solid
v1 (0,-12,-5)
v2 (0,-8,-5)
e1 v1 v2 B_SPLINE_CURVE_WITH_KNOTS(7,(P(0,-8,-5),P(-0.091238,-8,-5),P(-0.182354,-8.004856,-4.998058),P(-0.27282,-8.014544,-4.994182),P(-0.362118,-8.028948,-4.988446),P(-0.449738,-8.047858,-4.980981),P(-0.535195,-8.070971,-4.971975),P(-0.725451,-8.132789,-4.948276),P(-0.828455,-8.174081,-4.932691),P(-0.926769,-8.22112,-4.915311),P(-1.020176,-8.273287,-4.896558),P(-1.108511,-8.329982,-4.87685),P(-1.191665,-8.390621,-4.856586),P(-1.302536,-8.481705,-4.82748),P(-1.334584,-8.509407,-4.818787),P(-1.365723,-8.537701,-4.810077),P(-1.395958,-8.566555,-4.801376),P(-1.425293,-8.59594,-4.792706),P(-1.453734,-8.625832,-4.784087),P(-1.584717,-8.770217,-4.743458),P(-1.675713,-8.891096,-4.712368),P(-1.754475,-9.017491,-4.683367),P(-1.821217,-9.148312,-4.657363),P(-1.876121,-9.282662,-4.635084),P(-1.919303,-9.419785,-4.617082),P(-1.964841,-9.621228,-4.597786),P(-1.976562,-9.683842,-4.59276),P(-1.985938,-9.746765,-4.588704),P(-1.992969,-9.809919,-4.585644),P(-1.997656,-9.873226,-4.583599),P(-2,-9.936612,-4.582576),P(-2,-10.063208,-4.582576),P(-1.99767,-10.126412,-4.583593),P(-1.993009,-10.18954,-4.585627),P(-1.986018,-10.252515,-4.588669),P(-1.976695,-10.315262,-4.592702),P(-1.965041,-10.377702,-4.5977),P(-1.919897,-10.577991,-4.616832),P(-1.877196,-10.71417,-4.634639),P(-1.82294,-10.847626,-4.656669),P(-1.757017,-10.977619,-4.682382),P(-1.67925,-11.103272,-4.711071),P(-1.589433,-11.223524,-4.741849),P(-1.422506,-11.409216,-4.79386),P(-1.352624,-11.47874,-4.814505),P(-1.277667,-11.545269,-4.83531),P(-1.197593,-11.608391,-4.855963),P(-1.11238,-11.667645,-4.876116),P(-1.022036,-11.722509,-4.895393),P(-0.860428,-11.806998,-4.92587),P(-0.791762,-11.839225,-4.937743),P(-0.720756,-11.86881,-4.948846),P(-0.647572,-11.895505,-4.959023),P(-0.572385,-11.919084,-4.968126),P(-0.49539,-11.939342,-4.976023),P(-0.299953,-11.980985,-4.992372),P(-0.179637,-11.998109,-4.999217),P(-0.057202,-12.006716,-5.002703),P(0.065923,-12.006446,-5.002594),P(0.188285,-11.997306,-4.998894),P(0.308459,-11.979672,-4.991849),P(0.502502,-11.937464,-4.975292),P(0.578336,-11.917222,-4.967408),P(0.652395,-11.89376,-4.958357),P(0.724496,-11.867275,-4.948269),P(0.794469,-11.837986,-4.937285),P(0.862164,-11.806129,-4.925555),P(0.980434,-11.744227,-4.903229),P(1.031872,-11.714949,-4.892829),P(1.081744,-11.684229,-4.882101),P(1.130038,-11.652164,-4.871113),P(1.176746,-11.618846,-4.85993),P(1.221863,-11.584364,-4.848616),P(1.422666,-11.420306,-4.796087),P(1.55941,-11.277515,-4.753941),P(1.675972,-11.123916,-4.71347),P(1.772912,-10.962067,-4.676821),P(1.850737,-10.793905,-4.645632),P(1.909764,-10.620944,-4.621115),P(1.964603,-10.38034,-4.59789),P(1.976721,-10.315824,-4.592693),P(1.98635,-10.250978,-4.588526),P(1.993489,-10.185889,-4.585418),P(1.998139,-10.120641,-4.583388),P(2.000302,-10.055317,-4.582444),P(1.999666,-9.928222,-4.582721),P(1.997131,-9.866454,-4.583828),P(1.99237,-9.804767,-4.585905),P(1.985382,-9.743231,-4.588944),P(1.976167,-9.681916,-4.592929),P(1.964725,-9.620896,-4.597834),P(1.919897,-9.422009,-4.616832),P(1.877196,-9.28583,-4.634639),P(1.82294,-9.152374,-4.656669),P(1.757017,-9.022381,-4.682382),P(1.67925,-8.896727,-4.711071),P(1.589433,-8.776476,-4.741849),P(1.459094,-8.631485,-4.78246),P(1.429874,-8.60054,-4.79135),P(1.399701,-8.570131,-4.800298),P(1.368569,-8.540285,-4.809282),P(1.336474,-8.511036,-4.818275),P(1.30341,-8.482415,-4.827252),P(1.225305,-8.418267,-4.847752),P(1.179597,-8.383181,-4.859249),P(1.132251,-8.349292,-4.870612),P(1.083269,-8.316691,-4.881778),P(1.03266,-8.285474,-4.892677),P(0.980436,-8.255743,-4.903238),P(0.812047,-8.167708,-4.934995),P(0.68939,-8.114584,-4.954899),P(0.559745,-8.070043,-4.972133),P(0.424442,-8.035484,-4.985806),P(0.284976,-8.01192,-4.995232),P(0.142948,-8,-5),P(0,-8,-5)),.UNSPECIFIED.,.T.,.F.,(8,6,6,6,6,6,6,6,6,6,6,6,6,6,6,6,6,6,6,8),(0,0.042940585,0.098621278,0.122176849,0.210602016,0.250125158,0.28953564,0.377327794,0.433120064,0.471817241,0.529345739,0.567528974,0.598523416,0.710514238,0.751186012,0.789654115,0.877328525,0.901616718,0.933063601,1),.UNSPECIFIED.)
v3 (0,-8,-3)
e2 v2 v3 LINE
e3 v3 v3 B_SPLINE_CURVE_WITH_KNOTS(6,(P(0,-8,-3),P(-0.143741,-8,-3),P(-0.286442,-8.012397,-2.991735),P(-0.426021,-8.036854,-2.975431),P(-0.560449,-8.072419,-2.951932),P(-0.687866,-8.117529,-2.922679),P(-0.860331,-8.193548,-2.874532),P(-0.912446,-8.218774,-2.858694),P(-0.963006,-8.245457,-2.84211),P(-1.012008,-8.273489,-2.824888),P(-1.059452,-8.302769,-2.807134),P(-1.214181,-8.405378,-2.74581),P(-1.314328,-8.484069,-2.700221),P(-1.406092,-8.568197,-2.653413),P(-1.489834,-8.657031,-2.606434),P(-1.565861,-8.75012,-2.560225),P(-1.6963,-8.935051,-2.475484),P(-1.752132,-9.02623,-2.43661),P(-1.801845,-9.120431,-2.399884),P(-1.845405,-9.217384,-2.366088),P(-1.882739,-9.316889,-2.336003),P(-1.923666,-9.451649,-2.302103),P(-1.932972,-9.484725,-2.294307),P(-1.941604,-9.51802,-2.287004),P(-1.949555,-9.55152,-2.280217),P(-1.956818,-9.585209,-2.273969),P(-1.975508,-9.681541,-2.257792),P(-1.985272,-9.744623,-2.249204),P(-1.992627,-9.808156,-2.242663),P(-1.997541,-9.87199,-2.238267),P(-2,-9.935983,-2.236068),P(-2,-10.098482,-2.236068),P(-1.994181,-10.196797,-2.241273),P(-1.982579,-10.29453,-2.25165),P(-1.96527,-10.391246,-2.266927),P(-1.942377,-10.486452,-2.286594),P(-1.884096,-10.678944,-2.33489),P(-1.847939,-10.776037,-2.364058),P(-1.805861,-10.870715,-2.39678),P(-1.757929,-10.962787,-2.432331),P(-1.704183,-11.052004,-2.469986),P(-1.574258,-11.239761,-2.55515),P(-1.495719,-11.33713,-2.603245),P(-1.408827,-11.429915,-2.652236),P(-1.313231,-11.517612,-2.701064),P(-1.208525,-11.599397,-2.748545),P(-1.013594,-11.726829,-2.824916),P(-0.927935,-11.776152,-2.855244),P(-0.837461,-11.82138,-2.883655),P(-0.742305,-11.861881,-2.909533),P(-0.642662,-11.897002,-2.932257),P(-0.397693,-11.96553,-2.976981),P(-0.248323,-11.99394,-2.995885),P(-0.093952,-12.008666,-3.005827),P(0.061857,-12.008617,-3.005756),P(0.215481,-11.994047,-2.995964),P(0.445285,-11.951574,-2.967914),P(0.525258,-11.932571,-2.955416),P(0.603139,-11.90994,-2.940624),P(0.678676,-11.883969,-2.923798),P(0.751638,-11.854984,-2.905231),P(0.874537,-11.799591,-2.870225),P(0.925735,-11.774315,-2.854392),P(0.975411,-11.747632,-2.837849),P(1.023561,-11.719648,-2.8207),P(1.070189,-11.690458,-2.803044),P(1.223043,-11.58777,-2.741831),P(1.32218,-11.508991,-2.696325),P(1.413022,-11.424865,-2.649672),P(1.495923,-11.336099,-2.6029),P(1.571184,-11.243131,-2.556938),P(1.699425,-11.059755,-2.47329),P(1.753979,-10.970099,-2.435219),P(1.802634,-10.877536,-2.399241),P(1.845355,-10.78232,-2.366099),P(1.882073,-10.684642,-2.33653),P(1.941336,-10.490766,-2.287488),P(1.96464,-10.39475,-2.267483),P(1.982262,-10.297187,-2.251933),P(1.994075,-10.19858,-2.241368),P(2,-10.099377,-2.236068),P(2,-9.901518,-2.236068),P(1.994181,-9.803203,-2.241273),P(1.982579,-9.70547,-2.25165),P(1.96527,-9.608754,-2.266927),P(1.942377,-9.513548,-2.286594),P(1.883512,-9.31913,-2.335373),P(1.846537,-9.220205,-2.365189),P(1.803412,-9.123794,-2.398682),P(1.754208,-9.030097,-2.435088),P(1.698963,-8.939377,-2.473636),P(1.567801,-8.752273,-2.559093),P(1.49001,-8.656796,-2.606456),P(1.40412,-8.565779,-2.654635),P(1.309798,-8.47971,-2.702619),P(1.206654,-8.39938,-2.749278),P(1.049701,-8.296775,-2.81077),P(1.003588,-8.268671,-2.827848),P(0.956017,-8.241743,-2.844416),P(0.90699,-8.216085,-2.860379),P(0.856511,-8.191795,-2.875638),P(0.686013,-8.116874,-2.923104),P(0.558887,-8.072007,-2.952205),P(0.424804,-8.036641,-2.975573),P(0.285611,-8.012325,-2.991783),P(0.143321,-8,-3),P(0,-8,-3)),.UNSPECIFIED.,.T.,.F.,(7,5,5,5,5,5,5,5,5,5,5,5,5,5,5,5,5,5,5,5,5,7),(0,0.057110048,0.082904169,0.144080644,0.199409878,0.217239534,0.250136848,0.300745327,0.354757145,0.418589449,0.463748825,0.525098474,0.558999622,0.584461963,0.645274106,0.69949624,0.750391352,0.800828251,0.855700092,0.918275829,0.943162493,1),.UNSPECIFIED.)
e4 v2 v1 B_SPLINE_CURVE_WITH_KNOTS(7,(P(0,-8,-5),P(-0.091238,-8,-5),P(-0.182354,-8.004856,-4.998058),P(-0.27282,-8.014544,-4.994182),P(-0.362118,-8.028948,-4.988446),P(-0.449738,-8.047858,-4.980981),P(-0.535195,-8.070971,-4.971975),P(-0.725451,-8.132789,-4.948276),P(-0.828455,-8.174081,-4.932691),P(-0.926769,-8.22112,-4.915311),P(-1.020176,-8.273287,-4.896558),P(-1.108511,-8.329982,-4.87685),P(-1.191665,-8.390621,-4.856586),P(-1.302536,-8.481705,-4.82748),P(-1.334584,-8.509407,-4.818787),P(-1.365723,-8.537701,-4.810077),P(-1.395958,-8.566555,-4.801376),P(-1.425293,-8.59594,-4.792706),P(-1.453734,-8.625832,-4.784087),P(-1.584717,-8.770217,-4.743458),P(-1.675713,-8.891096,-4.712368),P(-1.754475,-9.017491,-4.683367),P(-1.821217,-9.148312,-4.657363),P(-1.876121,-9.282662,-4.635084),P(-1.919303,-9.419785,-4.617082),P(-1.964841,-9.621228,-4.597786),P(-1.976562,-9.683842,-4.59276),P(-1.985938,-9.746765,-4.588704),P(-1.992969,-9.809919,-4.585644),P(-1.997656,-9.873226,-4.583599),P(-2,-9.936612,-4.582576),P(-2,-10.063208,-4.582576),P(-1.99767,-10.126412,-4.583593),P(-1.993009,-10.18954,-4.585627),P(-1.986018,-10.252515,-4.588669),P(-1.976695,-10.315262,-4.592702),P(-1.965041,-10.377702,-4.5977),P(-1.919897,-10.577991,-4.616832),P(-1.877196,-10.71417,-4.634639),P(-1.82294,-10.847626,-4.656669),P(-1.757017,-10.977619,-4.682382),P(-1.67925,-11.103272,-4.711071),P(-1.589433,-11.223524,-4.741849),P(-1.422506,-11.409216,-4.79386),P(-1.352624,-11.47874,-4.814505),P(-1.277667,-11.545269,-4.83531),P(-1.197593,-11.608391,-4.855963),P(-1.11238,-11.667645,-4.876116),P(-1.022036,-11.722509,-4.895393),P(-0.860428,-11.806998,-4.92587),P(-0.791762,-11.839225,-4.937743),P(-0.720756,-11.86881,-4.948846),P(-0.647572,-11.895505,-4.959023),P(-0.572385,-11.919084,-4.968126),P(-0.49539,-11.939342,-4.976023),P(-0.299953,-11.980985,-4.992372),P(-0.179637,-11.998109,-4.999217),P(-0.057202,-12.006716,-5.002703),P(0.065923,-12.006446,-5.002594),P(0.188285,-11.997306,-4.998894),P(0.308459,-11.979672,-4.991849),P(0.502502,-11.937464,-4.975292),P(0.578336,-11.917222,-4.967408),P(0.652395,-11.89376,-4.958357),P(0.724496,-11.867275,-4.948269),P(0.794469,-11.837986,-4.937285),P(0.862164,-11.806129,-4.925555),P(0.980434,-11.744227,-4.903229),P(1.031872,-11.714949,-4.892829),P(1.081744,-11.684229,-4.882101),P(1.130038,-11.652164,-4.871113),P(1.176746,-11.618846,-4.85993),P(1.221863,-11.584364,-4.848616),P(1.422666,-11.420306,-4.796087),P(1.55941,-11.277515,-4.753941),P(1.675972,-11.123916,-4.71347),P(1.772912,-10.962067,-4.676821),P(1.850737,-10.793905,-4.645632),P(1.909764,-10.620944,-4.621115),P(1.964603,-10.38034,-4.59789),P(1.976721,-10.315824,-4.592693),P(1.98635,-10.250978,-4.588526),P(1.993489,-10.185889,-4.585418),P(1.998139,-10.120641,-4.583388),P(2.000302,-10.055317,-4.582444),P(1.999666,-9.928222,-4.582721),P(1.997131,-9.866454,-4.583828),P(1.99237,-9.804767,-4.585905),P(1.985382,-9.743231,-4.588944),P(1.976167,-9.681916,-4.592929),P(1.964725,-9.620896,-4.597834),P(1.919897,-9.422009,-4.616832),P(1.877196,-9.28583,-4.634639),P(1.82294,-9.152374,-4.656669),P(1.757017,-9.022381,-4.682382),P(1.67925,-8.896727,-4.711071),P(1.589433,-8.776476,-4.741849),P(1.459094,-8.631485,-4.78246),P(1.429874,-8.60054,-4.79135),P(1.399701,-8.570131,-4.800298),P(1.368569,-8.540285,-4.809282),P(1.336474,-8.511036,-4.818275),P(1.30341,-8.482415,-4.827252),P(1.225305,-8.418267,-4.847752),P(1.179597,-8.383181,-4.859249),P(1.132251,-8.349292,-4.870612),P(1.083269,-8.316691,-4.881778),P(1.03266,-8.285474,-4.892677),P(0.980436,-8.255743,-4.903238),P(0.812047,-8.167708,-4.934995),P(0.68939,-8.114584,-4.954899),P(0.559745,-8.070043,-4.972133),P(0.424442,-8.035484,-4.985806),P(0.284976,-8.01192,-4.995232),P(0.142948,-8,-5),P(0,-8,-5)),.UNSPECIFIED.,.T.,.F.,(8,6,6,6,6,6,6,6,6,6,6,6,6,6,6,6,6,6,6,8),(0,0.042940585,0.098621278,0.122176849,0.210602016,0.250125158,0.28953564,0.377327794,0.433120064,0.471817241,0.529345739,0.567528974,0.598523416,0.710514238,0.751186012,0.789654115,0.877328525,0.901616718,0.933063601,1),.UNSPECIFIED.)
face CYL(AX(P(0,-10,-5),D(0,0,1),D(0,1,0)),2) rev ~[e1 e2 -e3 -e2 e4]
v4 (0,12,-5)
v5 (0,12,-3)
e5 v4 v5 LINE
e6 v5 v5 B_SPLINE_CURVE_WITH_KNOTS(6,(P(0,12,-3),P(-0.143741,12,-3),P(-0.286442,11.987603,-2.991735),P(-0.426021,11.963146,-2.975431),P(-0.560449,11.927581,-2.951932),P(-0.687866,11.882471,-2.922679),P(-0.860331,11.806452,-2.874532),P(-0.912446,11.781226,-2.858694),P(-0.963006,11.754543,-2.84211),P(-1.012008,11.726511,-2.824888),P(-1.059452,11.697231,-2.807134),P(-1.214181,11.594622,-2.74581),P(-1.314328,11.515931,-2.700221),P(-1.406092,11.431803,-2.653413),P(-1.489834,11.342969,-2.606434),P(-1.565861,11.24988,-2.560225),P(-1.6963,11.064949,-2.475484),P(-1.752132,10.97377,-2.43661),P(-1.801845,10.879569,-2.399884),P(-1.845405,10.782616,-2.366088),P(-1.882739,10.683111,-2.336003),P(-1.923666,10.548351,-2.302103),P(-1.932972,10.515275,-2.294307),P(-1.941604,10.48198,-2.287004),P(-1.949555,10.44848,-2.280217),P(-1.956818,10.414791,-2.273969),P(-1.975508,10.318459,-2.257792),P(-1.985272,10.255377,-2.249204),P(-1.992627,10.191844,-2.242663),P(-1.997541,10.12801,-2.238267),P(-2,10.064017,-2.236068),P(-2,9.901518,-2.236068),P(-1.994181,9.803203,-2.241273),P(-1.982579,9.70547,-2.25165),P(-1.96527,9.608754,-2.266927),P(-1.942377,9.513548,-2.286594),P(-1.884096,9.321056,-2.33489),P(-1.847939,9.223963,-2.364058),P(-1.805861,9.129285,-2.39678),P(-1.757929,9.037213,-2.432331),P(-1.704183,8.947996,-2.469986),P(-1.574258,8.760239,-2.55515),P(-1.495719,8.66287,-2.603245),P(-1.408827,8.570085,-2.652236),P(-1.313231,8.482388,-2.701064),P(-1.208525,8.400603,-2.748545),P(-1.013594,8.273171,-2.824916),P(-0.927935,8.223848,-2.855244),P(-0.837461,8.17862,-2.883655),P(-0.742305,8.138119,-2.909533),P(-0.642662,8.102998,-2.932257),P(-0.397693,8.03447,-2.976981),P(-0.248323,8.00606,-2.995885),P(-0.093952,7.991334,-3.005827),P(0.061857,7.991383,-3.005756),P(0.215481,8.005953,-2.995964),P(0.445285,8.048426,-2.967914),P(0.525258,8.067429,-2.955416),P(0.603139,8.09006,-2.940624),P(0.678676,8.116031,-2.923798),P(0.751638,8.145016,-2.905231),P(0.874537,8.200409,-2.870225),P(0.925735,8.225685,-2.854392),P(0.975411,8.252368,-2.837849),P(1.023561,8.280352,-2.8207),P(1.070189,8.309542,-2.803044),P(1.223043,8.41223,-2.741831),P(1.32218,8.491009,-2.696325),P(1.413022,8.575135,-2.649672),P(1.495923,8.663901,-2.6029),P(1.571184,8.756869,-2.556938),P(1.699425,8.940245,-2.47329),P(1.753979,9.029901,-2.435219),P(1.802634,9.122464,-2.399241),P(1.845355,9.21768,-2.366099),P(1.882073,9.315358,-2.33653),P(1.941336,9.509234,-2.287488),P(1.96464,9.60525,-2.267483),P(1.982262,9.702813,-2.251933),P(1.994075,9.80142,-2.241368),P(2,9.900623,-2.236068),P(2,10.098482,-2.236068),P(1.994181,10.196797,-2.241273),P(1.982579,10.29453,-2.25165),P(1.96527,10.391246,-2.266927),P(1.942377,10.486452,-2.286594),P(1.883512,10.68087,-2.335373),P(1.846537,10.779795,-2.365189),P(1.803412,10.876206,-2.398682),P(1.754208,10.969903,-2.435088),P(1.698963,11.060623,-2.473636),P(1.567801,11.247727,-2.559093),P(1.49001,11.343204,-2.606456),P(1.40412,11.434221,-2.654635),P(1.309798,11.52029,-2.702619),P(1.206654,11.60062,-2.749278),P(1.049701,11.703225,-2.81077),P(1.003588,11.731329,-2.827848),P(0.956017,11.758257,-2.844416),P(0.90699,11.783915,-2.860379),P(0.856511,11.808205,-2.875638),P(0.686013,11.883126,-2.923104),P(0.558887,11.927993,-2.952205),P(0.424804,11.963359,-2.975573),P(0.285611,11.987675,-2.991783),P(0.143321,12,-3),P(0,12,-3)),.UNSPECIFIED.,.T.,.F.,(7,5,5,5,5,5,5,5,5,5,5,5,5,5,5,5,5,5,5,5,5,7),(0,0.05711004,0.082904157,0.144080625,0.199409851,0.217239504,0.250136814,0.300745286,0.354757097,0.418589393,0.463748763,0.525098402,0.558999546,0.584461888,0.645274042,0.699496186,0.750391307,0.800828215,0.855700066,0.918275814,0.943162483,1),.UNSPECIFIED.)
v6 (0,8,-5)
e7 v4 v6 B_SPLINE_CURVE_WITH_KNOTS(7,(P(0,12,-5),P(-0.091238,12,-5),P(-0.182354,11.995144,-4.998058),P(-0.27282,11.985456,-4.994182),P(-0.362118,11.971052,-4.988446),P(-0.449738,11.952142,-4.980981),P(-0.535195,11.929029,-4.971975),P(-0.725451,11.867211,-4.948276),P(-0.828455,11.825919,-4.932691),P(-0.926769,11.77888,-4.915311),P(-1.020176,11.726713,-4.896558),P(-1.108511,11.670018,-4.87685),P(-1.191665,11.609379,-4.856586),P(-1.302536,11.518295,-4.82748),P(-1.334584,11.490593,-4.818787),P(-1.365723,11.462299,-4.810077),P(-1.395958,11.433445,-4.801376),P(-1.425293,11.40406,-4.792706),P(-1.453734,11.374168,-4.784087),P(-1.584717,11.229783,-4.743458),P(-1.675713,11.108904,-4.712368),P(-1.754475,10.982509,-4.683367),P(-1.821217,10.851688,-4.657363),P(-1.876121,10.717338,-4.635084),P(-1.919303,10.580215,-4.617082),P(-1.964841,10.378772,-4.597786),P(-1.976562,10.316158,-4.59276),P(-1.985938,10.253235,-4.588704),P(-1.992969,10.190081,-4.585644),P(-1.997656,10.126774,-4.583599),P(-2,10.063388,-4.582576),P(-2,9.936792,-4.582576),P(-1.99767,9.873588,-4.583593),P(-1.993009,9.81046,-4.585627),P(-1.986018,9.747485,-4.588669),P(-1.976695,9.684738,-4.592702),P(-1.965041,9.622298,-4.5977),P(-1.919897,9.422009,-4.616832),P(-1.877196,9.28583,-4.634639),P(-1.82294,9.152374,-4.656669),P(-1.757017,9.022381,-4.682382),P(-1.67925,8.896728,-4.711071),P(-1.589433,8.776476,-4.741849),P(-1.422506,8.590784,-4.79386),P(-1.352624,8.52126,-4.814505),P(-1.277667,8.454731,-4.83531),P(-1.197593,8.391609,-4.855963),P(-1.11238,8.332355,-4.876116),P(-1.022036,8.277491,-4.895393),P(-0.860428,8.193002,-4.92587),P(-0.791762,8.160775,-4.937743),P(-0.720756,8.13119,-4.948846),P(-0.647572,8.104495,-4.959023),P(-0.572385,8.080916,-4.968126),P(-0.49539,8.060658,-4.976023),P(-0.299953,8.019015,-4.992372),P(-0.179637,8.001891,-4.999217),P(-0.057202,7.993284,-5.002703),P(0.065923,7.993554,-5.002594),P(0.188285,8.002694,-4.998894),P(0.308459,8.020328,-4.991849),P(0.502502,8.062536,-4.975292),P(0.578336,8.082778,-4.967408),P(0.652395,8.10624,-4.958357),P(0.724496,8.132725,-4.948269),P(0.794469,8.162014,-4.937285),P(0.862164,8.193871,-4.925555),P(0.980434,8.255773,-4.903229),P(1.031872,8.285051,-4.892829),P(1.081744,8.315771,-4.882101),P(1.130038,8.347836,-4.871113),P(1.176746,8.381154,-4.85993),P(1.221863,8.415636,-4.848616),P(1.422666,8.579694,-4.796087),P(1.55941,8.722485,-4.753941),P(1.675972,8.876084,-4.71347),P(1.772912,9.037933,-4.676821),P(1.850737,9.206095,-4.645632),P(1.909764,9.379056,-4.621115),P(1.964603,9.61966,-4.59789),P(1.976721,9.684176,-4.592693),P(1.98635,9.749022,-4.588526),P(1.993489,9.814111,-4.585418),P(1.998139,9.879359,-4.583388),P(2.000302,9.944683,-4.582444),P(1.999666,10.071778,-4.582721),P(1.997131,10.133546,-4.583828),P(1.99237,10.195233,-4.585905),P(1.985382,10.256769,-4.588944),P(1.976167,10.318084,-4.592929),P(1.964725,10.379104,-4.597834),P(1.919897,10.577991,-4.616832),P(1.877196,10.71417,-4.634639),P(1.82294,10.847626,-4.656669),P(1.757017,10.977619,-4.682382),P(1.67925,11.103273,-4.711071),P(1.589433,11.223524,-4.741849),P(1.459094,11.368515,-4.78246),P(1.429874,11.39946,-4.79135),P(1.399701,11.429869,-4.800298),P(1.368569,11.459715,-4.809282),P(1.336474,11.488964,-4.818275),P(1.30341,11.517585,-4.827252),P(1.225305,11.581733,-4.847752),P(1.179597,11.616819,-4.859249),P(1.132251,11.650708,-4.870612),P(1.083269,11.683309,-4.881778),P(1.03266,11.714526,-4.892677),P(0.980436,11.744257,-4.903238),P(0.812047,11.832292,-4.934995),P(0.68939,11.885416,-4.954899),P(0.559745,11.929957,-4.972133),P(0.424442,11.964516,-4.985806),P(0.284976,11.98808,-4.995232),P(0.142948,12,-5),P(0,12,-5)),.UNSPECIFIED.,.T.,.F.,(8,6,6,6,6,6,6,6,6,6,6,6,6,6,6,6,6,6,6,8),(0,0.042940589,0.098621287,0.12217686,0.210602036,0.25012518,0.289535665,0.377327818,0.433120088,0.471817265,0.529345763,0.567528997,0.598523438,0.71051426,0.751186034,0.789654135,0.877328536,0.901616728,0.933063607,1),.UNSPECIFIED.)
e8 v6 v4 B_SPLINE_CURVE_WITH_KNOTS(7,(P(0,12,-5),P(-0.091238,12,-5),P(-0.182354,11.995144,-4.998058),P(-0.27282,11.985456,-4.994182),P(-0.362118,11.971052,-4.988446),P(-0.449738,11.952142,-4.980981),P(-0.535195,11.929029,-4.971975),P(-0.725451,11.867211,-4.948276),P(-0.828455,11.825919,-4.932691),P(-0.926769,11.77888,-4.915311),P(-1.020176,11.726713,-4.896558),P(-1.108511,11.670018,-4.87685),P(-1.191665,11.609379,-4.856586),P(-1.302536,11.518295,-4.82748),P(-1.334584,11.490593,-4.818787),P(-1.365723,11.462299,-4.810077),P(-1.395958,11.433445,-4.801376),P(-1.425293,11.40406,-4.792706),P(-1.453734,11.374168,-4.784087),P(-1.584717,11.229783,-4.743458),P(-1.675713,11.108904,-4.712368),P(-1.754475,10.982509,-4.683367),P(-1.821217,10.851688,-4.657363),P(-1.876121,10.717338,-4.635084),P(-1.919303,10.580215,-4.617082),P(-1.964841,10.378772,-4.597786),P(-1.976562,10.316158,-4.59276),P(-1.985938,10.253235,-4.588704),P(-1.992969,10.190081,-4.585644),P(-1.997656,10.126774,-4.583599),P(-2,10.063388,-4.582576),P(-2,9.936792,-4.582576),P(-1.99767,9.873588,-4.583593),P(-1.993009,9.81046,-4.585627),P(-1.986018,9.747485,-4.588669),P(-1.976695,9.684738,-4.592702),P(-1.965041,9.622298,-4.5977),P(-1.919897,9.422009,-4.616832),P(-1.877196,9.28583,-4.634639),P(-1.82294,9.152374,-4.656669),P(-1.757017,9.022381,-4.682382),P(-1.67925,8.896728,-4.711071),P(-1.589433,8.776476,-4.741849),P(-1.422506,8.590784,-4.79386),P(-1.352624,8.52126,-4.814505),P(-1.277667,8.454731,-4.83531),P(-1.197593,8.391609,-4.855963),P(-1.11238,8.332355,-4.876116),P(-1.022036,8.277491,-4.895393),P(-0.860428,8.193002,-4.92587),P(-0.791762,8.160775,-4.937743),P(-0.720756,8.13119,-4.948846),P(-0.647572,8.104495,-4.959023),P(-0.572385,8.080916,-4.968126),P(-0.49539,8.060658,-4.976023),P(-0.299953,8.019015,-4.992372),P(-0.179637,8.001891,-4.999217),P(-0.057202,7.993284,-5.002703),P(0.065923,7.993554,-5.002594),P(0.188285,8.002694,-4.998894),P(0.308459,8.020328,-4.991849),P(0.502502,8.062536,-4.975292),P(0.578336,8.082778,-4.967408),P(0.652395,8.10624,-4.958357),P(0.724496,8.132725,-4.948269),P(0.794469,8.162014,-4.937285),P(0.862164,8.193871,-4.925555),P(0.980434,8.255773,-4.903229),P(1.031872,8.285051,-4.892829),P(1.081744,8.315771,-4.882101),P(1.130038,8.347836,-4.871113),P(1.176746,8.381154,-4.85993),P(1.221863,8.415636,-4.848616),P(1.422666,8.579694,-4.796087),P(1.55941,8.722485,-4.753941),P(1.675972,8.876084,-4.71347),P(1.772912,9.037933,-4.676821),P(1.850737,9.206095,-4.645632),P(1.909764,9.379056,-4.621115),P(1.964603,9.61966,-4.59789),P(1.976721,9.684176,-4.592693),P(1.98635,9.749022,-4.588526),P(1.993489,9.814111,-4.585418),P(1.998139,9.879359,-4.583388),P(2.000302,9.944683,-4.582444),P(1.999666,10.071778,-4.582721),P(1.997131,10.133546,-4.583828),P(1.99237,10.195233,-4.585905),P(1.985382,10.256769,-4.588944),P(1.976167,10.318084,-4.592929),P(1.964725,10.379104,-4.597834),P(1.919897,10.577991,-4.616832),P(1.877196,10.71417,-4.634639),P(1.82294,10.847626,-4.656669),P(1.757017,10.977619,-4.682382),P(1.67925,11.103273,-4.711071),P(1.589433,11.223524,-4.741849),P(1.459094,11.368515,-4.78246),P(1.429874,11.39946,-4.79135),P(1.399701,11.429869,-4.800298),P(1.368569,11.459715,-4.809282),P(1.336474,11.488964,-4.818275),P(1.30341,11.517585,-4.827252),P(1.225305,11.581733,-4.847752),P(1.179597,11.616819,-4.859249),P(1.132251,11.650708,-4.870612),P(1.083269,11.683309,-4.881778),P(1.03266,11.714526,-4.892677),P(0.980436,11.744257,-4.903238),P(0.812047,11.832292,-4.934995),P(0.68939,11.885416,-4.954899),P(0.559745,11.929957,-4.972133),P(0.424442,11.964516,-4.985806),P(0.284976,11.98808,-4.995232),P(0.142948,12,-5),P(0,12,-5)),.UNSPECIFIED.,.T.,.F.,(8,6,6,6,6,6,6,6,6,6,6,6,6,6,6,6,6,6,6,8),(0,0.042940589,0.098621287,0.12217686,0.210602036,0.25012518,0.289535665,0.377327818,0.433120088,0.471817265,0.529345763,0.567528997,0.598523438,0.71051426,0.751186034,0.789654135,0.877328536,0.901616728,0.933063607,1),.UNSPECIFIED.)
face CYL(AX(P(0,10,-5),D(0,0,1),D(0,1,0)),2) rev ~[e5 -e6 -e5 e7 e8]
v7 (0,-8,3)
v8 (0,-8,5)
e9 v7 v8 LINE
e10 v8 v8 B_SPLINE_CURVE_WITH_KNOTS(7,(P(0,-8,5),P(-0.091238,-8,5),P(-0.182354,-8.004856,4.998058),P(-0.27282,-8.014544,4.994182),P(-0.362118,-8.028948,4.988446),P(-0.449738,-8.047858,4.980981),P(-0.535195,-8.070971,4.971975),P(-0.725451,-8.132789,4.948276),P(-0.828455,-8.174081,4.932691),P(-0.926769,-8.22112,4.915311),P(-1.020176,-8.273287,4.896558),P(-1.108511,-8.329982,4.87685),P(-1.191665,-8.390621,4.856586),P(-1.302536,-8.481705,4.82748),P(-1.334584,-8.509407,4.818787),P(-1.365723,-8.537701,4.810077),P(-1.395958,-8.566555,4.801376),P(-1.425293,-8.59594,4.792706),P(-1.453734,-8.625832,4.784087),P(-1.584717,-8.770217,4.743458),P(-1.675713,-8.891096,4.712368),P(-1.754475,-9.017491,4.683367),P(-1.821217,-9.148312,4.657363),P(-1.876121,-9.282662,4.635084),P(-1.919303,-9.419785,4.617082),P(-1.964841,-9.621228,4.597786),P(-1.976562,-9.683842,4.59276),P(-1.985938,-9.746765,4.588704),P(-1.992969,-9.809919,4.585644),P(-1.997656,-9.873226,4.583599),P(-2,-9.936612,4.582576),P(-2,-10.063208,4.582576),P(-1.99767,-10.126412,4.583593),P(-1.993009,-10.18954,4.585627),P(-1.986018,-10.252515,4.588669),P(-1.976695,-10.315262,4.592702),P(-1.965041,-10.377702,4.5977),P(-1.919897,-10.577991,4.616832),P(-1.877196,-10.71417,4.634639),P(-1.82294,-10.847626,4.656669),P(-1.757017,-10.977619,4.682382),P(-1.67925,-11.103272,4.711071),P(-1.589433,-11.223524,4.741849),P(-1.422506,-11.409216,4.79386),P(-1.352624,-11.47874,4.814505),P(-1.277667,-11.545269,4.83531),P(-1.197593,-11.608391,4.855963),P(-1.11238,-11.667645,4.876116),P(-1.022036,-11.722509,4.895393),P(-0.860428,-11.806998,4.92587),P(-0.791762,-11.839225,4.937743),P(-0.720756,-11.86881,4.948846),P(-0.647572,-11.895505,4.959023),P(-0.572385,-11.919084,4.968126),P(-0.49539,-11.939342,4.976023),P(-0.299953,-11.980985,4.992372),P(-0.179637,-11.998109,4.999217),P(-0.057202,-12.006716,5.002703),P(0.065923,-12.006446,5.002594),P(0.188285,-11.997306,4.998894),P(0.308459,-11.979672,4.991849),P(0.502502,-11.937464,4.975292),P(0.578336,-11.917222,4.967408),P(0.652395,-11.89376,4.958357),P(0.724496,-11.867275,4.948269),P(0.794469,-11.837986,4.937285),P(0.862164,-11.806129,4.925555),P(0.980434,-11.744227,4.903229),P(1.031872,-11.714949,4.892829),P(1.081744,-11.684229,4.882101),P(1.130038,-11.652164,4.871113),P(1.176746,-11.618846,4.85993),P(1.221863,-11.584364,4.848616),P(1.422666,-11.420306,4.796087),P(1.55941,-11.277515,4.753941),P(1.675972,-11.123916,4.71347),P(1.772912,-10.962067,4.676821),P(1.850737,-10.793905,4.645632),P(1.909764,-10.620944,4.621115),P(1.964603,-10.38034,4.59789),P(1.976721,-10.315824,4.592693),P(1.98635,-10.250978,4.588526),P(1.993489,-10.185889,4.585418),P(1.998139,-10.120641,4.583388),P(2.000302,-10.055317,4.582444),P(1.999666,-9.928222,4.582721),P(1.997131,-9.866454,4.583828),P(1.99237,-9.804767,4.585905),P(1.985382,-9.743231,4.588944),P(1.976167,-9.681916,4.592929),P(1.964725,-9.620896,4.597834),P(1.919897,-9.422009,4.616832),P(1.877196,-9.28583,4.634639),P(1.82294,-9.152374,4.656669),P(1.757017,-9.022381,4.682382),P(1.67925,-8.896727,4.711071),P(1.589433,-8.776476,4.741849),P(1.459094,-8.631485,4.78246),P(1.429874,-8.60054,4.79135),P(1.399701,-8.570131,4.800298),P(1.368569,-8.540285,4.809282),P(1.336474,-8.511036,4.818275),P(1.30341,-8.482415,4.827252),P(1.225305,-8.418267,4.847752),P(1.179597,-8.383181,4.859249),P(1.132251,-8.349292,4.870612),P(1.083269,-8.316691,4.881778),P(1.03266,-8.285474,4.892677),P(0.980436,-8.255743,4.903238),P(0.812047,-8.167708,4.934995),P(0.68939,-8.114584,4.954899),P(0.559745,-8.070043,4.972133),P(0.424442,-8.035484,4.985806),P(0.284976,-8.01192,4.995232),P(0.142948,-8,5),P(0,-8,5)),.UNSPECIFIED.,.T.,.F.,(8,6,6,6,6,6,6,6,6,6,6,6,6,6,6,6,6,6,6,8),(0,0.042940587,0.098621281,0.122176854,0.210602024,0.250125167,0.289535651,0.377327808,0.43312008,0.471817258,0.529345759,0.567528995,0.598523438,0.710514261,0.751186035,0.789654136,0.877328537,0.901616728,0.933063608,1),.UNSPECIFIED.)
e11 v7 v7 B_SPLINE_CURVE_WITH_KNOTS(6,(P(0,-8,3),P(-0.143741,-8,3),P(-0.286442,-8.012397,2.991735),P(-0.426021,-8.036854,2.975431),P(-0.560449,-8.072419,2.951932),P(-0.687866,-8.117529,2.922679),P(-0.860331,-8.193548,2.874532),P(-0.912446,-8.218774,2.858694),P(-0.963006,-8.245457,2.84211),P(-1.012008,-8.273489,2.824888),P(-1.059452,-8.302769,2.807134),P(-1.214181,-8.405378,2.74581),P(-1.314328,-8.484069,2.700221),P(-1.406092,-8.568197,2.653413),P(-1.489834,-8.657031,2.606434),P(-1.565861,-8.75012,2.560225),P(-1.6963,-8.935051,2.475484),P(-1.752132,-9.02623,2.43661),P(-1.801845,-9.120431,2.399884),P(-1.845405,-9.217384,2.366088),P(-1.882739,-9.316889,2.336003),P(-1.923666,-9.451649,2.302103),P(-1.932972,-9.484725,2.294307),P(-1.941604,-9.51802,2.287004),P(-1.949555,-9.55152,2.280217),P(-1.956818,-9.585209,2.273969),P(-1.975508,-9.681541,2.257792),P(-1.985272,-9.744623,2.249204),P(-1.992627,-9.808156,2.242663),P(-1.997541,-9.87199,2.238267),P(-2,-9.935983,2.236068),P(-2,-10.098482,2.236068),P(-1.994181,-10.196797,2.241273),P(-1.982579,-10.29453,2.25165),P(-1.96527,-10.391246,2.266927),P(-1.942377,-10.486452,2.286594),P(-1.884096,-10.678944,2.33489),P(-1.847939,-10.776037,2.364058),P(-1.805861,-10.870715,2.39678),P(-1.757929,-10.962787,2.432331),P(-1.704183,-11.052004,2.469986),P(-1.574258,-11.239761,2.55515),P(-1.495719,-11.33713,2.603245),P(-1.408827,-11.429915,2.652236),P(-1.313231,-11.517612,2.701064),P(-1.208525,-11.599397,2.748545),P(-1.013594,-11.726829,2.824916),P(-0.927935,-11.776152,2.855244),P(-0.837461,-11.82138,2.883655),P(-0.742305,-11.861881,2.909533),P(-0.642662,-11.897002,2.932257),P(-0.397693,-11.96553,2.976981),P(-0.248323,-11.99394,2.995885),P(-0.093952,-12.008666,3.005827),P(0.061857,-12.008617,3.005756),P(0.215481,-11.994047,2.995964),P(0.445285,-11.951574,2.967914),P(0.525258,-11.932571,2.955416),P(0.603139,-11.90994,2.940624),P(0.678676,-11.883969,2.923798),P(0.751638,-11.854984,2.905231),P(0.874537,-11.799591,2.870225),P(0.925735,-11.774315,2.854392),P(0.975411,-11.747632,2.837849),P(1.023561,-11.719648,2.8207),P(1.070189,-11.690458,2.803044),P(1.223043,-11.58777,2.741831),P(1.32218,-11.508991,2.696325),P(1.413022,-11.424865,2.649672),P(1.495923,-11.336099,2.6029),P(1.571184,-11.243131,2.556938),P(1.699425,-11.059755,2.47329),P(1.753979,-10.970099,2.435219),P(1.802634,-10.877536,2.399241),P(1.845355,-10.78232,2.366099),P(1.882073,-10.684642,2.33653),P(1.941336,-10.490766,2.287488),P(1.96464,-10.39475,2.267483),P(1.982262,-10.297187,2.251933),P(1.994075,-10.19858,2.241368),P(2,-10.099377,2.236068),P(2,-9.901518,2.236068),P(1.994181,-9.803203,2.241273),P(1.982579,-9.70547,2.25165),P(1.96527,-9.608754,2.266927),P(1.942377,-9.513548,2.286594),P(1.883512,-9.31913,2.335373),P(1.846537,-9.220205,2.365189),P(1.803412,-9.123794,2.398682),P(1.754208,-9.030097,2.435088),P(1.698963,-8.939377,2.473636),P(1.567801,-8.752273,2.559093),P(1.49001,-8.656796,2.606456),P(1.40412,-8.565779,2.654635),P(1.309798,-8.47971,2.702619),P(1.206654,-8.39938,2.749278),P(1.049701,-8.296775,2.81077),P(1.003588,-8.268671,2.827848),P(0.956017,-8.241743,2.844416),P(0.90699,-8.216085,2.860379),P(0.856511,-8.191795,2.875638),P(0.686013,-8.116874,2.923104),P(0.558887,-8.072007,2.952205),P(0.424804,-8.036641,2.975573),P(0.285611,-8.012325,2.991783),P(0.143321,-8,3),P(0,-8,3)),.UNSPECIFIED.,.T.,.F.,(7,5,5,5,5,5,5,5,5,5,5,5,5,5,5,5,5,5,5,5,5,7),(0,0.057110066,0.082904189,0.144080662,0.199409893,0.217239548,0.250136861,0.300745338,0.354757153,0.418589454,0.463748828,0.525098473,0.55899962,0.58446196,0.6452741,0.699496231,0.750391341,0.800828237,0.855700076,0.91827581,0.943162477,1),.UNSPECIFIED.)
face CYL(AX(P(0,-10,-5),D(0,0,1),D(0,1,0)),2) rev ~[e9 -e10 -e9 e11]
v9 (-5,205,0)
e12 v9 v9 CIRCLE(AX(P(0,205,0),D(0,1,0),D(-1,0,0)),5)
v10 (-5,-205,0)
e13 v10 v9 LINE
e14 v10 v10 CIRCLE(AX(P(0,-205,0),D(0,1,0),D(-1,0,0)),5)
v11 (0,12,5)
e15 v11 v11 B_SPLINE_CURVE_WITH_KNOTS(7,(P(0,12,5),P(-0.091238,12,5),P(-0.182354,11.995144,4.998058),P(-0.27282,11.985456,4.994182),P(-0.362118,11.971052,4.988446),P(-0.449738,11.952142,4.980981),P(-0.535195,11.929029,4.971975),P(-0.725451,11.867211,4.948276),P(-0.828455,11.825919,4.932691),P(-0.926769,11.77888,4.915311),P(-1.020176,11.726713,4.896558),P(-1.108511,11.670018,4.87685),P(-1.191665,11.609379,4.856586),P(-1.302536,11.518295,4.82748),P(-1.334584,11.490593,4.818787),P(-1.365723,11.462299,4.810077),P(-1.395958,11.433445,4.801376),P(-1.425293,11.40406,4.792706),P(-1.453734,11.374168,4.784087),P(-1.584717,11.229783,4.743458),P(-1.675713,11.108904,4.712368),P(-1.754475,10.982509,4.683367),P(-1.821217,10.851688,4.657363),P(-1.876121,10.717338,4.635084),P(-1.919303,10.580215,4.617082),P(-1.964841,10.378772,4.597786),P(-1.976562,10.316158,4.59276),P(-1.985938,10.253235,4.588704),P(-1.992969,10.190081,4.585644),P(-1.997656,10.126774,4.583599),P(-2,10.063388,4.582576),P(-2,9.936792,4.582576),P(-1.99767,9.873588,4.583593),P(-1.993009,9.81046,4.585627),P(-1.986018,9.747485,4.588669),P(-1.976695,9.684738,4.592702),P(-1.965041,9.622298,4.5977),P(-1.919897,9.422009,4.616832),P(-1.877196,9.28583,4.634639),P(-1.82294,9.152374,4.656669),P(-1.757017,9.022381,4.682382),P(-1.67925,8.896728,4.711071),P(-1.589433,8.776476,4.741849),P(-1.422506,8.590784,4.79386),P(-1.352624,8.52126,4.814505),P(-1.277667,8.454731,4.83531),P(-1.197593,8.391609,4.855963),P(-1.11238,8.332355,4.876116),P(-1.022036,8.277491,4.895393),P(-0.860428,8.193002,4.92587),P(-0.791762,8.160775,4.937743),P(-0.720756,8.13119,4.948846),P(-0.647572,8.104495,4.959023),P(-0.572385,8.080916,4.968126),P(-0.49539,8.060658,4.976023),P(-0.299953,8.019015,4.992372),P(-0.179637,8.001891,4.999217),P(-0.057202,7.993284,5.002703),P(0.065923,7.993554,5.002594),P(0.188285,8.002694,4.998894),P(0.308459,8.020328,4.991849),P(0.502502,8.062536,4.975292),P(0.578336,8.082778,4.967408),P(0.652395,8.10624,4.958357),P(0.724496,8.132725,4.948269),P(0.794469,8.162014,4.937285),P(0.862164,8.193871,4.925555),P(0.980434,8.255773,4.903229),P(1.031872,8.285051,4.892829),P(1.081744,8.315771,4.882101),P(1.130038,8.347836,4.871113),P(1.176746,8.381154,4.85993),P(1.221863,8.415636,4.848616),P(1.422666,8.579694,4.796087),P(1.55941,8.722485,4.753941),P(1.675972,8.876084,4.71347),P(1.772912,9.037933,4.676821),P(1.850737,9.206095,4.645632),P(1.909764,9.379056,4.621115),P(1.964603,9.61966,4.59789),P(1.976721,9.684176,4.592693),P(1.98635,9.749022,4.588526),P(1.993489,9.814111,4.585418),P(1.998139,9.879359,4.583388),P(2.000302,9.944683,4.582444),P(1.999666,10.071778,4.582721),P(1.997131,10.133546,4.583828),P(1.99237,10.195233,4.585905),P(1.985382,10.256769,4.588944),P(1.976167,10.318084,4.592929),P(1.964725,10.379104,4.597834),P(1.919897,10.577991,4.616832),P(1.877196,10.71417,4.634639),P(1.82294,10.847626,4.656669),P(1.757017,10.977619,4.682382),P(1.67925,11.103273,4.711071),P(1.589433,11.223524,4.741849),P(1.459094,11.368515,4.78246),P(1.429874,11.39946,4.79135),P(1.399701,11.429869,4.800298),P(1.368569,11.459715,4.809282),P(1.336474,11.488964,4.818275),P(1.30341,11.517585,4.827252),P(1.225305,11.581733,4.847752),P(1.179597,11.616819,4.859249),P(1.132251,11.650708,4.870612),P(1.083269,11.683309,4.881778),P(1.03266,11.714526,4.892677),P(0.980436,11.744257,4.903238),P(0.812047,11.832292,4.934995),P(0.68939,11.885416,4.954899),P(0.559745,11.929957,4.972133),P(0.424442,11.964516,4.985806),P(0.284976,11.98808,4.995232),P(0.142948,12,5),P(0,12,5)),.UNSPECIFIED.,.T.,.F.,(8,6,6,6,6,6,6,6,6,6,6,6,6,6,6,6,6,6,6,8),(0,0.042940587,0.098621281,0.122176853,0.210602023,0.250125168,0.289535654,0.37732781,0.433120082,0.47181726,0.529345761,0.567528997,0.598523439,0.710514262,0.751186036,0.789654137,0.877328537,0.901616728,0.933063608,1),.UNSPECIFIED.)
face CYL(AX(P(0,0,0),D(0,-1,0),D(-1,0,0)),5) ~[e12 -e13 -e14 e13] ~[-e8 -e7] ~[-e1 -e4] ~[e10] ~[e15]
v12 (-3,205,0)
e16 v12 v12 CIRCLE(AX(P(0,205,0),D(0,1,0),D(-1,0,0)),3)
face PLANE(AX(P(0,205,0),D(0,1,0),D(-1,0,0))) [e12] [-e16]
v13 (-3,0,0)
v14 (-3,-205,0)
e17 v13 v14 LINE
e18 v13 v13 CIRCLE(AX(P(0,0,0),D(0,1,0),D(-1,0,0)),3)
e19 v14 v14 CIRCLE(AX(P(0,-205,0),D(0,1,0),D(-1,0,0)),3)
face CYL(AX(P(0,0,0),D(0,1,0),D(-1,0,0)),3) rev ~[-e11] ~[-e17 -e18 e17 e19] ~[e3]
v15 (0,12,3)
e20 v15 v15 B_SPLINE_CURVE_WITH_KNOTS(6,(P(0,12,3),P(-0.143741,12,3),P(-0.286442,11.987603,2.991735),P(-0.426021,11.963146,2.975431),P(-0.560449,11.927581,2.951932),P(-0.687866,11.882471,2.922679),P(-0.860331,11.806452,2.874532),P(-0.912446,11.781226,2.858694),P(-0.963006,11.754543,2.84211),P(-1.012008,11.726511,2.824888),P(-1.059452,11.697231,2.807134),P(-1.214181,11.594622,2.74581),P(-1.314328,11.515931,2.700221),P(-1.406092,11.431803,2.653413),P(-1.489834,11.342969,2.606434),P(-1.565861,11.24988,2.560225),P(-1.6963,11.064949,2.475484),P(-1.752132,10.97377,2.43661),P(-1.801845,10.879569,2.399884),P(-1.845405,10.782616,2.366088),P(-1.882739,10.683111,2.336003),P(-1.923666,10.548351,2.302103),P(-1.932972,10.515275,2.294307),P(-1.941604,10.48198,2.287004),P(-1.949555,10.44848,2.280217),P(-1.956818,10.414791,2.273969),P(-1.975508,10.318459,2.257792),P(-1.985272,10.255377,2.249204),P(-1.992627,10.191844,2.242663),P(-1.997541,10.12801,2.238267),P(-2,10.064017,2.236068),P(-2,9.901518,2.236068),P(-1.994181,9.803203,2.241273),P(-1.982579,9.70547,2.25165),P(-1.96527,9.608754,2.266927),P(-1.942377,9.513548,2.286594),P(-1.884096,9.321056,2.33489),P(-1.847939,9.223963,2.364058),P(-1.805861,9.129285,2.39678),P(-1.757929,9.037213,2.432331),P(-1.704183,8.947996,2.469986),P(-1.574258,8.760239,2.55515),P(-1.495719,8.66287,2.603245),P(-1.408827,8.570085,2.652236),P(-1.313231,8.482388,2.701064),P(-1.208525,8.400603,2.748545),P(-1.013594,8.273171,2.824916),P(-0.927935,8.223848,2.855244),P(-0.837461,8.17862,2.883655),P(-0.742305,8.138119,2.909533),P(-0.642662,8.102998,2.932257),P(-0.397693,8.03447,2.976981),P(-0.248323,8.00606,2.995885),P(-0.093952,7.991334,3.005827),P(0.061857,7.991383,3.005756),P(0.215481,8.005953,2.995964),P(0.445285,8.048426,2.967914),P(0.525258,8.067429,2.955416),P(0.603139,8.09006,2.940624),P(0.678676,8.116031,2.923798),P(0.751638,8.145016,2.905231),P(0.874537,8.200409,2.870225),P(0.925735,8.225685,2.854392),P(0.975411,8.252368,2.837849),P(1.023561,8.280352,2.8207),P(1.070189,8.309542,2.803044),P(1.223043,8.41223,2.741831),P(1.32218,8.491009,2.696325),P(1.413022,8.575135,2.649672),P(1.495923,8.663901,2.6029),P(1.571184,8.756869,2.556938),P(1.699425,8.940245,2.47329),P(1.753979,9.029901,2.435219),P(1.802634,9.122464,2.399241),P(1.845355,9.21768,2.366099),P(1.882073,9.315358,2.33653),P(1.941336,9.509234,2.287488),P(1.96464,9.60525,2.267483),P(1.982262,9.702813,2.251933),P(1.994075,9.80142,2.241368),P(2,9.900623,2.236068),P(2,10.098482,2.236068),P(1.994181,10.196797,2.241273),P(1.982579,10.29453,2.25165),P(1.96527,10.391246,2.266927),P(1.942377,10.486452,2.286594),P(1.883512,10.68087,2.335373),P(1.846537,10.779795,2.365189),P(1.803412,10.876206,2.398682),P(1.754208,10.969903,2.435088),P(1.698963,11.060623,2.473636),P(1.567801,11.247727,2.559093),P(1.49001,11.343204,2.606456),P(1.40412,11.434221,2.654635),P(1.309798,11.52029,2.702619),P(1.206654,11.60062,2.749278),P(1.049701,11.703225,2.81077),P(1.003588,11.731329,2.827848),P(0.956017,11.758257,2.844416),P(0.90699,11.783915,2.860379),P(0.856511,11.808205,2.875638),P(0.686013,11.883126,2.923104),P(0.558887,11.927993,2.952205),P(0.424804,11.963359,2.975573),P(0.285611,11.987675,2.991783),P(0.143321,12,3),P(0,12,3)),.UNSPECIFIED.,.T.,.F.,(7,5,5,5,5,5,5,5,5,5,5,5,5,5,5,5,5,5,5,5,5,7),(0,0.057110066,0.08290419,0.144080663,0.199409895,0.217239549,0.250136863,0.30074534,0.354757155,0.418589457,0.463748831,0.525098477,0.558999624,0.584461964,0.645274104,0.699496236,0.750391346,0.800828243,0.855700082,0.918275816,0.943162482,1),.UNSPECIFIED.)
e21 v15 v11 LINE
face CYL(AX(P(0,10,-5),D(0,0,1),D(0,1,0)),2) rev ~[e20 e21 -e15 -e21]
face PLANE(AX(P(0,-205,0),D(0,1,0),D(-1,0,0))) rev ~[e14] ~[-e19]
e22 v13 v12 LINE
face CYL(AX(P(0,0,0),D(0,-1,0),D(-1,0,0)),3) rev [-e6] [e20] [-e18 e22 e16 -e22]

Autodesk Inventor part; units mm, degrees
ref_plane "YZ Plane" through (0, 0, 0) normal (1, 0, 0) x (0, 1, 0)
ref_plane "XZ Plane" through (0, 0, 0) normal (0, 1, 0) x (-1, 0, 0)
ref_plane "XY Plane" through (0, 0, 0) normal (0, 0, 1) x (1, 0, 0)
sketch "Skizze1" plane through (0, 0, 0) normal (0, 1, 0) x (-1, 0, 0)
  circle A0 centre (0, 0) radius 5
  circle A1 centre (0, 0) radius 3
  dimension "d0" = 2
  dimension "d2" = 10
  dimension "d20" = 6
extrude "Extrusion1" add sketch "Skizze1" along normal mid plane 410
ref_plane "Arbeitsebene2" through (0, 0, -5) normal (0, 0, 1) x (1, 0, 0)
ref_plane "Arbeitsebene1" through (-8, 108.509, 24.4581) normal (0, 0, 1) x (0, -1, 0)
sketch "Skizze3" plane through (0, 0, -5) normal (0, 0, 1) x (1, 0, 0)
  line L0 (0, 0) -> (0, 160.2649) construction
  point P0 (0, 0)
  point P1 (0, 80.1325)
  point P2 (0, 10)
  point P3 (0, -10)
  dimension "d8" = 10
  dimension "d10" = 10
hole "Bohrung1" at (0, 10, -5) at (0, -10, -5) direction (0, 0, 1) diameter 4 end through all
ref_plane "Arbeitsebene4" through (0, 0, 5) normal (0, 0, 1) x (1, 0, 0)
thread "Gewinde1" size "M6x1" class "6H" standard "ANSI Metric M Profile" length 10
thread "Gewinde2" size "M6x1" class "6H" standard "ANSI Metric M Profile" length 10
thread "Gewinde3" size "M4x0.7" class "6H" standard "ANSI Metric M Profile" full length
thread "Gewinde4" size "M4x0.7" class "6H" standard "ANSI Metric M Profile" full length
properties part number "gleitstange horizontal" material "Aluminium"
